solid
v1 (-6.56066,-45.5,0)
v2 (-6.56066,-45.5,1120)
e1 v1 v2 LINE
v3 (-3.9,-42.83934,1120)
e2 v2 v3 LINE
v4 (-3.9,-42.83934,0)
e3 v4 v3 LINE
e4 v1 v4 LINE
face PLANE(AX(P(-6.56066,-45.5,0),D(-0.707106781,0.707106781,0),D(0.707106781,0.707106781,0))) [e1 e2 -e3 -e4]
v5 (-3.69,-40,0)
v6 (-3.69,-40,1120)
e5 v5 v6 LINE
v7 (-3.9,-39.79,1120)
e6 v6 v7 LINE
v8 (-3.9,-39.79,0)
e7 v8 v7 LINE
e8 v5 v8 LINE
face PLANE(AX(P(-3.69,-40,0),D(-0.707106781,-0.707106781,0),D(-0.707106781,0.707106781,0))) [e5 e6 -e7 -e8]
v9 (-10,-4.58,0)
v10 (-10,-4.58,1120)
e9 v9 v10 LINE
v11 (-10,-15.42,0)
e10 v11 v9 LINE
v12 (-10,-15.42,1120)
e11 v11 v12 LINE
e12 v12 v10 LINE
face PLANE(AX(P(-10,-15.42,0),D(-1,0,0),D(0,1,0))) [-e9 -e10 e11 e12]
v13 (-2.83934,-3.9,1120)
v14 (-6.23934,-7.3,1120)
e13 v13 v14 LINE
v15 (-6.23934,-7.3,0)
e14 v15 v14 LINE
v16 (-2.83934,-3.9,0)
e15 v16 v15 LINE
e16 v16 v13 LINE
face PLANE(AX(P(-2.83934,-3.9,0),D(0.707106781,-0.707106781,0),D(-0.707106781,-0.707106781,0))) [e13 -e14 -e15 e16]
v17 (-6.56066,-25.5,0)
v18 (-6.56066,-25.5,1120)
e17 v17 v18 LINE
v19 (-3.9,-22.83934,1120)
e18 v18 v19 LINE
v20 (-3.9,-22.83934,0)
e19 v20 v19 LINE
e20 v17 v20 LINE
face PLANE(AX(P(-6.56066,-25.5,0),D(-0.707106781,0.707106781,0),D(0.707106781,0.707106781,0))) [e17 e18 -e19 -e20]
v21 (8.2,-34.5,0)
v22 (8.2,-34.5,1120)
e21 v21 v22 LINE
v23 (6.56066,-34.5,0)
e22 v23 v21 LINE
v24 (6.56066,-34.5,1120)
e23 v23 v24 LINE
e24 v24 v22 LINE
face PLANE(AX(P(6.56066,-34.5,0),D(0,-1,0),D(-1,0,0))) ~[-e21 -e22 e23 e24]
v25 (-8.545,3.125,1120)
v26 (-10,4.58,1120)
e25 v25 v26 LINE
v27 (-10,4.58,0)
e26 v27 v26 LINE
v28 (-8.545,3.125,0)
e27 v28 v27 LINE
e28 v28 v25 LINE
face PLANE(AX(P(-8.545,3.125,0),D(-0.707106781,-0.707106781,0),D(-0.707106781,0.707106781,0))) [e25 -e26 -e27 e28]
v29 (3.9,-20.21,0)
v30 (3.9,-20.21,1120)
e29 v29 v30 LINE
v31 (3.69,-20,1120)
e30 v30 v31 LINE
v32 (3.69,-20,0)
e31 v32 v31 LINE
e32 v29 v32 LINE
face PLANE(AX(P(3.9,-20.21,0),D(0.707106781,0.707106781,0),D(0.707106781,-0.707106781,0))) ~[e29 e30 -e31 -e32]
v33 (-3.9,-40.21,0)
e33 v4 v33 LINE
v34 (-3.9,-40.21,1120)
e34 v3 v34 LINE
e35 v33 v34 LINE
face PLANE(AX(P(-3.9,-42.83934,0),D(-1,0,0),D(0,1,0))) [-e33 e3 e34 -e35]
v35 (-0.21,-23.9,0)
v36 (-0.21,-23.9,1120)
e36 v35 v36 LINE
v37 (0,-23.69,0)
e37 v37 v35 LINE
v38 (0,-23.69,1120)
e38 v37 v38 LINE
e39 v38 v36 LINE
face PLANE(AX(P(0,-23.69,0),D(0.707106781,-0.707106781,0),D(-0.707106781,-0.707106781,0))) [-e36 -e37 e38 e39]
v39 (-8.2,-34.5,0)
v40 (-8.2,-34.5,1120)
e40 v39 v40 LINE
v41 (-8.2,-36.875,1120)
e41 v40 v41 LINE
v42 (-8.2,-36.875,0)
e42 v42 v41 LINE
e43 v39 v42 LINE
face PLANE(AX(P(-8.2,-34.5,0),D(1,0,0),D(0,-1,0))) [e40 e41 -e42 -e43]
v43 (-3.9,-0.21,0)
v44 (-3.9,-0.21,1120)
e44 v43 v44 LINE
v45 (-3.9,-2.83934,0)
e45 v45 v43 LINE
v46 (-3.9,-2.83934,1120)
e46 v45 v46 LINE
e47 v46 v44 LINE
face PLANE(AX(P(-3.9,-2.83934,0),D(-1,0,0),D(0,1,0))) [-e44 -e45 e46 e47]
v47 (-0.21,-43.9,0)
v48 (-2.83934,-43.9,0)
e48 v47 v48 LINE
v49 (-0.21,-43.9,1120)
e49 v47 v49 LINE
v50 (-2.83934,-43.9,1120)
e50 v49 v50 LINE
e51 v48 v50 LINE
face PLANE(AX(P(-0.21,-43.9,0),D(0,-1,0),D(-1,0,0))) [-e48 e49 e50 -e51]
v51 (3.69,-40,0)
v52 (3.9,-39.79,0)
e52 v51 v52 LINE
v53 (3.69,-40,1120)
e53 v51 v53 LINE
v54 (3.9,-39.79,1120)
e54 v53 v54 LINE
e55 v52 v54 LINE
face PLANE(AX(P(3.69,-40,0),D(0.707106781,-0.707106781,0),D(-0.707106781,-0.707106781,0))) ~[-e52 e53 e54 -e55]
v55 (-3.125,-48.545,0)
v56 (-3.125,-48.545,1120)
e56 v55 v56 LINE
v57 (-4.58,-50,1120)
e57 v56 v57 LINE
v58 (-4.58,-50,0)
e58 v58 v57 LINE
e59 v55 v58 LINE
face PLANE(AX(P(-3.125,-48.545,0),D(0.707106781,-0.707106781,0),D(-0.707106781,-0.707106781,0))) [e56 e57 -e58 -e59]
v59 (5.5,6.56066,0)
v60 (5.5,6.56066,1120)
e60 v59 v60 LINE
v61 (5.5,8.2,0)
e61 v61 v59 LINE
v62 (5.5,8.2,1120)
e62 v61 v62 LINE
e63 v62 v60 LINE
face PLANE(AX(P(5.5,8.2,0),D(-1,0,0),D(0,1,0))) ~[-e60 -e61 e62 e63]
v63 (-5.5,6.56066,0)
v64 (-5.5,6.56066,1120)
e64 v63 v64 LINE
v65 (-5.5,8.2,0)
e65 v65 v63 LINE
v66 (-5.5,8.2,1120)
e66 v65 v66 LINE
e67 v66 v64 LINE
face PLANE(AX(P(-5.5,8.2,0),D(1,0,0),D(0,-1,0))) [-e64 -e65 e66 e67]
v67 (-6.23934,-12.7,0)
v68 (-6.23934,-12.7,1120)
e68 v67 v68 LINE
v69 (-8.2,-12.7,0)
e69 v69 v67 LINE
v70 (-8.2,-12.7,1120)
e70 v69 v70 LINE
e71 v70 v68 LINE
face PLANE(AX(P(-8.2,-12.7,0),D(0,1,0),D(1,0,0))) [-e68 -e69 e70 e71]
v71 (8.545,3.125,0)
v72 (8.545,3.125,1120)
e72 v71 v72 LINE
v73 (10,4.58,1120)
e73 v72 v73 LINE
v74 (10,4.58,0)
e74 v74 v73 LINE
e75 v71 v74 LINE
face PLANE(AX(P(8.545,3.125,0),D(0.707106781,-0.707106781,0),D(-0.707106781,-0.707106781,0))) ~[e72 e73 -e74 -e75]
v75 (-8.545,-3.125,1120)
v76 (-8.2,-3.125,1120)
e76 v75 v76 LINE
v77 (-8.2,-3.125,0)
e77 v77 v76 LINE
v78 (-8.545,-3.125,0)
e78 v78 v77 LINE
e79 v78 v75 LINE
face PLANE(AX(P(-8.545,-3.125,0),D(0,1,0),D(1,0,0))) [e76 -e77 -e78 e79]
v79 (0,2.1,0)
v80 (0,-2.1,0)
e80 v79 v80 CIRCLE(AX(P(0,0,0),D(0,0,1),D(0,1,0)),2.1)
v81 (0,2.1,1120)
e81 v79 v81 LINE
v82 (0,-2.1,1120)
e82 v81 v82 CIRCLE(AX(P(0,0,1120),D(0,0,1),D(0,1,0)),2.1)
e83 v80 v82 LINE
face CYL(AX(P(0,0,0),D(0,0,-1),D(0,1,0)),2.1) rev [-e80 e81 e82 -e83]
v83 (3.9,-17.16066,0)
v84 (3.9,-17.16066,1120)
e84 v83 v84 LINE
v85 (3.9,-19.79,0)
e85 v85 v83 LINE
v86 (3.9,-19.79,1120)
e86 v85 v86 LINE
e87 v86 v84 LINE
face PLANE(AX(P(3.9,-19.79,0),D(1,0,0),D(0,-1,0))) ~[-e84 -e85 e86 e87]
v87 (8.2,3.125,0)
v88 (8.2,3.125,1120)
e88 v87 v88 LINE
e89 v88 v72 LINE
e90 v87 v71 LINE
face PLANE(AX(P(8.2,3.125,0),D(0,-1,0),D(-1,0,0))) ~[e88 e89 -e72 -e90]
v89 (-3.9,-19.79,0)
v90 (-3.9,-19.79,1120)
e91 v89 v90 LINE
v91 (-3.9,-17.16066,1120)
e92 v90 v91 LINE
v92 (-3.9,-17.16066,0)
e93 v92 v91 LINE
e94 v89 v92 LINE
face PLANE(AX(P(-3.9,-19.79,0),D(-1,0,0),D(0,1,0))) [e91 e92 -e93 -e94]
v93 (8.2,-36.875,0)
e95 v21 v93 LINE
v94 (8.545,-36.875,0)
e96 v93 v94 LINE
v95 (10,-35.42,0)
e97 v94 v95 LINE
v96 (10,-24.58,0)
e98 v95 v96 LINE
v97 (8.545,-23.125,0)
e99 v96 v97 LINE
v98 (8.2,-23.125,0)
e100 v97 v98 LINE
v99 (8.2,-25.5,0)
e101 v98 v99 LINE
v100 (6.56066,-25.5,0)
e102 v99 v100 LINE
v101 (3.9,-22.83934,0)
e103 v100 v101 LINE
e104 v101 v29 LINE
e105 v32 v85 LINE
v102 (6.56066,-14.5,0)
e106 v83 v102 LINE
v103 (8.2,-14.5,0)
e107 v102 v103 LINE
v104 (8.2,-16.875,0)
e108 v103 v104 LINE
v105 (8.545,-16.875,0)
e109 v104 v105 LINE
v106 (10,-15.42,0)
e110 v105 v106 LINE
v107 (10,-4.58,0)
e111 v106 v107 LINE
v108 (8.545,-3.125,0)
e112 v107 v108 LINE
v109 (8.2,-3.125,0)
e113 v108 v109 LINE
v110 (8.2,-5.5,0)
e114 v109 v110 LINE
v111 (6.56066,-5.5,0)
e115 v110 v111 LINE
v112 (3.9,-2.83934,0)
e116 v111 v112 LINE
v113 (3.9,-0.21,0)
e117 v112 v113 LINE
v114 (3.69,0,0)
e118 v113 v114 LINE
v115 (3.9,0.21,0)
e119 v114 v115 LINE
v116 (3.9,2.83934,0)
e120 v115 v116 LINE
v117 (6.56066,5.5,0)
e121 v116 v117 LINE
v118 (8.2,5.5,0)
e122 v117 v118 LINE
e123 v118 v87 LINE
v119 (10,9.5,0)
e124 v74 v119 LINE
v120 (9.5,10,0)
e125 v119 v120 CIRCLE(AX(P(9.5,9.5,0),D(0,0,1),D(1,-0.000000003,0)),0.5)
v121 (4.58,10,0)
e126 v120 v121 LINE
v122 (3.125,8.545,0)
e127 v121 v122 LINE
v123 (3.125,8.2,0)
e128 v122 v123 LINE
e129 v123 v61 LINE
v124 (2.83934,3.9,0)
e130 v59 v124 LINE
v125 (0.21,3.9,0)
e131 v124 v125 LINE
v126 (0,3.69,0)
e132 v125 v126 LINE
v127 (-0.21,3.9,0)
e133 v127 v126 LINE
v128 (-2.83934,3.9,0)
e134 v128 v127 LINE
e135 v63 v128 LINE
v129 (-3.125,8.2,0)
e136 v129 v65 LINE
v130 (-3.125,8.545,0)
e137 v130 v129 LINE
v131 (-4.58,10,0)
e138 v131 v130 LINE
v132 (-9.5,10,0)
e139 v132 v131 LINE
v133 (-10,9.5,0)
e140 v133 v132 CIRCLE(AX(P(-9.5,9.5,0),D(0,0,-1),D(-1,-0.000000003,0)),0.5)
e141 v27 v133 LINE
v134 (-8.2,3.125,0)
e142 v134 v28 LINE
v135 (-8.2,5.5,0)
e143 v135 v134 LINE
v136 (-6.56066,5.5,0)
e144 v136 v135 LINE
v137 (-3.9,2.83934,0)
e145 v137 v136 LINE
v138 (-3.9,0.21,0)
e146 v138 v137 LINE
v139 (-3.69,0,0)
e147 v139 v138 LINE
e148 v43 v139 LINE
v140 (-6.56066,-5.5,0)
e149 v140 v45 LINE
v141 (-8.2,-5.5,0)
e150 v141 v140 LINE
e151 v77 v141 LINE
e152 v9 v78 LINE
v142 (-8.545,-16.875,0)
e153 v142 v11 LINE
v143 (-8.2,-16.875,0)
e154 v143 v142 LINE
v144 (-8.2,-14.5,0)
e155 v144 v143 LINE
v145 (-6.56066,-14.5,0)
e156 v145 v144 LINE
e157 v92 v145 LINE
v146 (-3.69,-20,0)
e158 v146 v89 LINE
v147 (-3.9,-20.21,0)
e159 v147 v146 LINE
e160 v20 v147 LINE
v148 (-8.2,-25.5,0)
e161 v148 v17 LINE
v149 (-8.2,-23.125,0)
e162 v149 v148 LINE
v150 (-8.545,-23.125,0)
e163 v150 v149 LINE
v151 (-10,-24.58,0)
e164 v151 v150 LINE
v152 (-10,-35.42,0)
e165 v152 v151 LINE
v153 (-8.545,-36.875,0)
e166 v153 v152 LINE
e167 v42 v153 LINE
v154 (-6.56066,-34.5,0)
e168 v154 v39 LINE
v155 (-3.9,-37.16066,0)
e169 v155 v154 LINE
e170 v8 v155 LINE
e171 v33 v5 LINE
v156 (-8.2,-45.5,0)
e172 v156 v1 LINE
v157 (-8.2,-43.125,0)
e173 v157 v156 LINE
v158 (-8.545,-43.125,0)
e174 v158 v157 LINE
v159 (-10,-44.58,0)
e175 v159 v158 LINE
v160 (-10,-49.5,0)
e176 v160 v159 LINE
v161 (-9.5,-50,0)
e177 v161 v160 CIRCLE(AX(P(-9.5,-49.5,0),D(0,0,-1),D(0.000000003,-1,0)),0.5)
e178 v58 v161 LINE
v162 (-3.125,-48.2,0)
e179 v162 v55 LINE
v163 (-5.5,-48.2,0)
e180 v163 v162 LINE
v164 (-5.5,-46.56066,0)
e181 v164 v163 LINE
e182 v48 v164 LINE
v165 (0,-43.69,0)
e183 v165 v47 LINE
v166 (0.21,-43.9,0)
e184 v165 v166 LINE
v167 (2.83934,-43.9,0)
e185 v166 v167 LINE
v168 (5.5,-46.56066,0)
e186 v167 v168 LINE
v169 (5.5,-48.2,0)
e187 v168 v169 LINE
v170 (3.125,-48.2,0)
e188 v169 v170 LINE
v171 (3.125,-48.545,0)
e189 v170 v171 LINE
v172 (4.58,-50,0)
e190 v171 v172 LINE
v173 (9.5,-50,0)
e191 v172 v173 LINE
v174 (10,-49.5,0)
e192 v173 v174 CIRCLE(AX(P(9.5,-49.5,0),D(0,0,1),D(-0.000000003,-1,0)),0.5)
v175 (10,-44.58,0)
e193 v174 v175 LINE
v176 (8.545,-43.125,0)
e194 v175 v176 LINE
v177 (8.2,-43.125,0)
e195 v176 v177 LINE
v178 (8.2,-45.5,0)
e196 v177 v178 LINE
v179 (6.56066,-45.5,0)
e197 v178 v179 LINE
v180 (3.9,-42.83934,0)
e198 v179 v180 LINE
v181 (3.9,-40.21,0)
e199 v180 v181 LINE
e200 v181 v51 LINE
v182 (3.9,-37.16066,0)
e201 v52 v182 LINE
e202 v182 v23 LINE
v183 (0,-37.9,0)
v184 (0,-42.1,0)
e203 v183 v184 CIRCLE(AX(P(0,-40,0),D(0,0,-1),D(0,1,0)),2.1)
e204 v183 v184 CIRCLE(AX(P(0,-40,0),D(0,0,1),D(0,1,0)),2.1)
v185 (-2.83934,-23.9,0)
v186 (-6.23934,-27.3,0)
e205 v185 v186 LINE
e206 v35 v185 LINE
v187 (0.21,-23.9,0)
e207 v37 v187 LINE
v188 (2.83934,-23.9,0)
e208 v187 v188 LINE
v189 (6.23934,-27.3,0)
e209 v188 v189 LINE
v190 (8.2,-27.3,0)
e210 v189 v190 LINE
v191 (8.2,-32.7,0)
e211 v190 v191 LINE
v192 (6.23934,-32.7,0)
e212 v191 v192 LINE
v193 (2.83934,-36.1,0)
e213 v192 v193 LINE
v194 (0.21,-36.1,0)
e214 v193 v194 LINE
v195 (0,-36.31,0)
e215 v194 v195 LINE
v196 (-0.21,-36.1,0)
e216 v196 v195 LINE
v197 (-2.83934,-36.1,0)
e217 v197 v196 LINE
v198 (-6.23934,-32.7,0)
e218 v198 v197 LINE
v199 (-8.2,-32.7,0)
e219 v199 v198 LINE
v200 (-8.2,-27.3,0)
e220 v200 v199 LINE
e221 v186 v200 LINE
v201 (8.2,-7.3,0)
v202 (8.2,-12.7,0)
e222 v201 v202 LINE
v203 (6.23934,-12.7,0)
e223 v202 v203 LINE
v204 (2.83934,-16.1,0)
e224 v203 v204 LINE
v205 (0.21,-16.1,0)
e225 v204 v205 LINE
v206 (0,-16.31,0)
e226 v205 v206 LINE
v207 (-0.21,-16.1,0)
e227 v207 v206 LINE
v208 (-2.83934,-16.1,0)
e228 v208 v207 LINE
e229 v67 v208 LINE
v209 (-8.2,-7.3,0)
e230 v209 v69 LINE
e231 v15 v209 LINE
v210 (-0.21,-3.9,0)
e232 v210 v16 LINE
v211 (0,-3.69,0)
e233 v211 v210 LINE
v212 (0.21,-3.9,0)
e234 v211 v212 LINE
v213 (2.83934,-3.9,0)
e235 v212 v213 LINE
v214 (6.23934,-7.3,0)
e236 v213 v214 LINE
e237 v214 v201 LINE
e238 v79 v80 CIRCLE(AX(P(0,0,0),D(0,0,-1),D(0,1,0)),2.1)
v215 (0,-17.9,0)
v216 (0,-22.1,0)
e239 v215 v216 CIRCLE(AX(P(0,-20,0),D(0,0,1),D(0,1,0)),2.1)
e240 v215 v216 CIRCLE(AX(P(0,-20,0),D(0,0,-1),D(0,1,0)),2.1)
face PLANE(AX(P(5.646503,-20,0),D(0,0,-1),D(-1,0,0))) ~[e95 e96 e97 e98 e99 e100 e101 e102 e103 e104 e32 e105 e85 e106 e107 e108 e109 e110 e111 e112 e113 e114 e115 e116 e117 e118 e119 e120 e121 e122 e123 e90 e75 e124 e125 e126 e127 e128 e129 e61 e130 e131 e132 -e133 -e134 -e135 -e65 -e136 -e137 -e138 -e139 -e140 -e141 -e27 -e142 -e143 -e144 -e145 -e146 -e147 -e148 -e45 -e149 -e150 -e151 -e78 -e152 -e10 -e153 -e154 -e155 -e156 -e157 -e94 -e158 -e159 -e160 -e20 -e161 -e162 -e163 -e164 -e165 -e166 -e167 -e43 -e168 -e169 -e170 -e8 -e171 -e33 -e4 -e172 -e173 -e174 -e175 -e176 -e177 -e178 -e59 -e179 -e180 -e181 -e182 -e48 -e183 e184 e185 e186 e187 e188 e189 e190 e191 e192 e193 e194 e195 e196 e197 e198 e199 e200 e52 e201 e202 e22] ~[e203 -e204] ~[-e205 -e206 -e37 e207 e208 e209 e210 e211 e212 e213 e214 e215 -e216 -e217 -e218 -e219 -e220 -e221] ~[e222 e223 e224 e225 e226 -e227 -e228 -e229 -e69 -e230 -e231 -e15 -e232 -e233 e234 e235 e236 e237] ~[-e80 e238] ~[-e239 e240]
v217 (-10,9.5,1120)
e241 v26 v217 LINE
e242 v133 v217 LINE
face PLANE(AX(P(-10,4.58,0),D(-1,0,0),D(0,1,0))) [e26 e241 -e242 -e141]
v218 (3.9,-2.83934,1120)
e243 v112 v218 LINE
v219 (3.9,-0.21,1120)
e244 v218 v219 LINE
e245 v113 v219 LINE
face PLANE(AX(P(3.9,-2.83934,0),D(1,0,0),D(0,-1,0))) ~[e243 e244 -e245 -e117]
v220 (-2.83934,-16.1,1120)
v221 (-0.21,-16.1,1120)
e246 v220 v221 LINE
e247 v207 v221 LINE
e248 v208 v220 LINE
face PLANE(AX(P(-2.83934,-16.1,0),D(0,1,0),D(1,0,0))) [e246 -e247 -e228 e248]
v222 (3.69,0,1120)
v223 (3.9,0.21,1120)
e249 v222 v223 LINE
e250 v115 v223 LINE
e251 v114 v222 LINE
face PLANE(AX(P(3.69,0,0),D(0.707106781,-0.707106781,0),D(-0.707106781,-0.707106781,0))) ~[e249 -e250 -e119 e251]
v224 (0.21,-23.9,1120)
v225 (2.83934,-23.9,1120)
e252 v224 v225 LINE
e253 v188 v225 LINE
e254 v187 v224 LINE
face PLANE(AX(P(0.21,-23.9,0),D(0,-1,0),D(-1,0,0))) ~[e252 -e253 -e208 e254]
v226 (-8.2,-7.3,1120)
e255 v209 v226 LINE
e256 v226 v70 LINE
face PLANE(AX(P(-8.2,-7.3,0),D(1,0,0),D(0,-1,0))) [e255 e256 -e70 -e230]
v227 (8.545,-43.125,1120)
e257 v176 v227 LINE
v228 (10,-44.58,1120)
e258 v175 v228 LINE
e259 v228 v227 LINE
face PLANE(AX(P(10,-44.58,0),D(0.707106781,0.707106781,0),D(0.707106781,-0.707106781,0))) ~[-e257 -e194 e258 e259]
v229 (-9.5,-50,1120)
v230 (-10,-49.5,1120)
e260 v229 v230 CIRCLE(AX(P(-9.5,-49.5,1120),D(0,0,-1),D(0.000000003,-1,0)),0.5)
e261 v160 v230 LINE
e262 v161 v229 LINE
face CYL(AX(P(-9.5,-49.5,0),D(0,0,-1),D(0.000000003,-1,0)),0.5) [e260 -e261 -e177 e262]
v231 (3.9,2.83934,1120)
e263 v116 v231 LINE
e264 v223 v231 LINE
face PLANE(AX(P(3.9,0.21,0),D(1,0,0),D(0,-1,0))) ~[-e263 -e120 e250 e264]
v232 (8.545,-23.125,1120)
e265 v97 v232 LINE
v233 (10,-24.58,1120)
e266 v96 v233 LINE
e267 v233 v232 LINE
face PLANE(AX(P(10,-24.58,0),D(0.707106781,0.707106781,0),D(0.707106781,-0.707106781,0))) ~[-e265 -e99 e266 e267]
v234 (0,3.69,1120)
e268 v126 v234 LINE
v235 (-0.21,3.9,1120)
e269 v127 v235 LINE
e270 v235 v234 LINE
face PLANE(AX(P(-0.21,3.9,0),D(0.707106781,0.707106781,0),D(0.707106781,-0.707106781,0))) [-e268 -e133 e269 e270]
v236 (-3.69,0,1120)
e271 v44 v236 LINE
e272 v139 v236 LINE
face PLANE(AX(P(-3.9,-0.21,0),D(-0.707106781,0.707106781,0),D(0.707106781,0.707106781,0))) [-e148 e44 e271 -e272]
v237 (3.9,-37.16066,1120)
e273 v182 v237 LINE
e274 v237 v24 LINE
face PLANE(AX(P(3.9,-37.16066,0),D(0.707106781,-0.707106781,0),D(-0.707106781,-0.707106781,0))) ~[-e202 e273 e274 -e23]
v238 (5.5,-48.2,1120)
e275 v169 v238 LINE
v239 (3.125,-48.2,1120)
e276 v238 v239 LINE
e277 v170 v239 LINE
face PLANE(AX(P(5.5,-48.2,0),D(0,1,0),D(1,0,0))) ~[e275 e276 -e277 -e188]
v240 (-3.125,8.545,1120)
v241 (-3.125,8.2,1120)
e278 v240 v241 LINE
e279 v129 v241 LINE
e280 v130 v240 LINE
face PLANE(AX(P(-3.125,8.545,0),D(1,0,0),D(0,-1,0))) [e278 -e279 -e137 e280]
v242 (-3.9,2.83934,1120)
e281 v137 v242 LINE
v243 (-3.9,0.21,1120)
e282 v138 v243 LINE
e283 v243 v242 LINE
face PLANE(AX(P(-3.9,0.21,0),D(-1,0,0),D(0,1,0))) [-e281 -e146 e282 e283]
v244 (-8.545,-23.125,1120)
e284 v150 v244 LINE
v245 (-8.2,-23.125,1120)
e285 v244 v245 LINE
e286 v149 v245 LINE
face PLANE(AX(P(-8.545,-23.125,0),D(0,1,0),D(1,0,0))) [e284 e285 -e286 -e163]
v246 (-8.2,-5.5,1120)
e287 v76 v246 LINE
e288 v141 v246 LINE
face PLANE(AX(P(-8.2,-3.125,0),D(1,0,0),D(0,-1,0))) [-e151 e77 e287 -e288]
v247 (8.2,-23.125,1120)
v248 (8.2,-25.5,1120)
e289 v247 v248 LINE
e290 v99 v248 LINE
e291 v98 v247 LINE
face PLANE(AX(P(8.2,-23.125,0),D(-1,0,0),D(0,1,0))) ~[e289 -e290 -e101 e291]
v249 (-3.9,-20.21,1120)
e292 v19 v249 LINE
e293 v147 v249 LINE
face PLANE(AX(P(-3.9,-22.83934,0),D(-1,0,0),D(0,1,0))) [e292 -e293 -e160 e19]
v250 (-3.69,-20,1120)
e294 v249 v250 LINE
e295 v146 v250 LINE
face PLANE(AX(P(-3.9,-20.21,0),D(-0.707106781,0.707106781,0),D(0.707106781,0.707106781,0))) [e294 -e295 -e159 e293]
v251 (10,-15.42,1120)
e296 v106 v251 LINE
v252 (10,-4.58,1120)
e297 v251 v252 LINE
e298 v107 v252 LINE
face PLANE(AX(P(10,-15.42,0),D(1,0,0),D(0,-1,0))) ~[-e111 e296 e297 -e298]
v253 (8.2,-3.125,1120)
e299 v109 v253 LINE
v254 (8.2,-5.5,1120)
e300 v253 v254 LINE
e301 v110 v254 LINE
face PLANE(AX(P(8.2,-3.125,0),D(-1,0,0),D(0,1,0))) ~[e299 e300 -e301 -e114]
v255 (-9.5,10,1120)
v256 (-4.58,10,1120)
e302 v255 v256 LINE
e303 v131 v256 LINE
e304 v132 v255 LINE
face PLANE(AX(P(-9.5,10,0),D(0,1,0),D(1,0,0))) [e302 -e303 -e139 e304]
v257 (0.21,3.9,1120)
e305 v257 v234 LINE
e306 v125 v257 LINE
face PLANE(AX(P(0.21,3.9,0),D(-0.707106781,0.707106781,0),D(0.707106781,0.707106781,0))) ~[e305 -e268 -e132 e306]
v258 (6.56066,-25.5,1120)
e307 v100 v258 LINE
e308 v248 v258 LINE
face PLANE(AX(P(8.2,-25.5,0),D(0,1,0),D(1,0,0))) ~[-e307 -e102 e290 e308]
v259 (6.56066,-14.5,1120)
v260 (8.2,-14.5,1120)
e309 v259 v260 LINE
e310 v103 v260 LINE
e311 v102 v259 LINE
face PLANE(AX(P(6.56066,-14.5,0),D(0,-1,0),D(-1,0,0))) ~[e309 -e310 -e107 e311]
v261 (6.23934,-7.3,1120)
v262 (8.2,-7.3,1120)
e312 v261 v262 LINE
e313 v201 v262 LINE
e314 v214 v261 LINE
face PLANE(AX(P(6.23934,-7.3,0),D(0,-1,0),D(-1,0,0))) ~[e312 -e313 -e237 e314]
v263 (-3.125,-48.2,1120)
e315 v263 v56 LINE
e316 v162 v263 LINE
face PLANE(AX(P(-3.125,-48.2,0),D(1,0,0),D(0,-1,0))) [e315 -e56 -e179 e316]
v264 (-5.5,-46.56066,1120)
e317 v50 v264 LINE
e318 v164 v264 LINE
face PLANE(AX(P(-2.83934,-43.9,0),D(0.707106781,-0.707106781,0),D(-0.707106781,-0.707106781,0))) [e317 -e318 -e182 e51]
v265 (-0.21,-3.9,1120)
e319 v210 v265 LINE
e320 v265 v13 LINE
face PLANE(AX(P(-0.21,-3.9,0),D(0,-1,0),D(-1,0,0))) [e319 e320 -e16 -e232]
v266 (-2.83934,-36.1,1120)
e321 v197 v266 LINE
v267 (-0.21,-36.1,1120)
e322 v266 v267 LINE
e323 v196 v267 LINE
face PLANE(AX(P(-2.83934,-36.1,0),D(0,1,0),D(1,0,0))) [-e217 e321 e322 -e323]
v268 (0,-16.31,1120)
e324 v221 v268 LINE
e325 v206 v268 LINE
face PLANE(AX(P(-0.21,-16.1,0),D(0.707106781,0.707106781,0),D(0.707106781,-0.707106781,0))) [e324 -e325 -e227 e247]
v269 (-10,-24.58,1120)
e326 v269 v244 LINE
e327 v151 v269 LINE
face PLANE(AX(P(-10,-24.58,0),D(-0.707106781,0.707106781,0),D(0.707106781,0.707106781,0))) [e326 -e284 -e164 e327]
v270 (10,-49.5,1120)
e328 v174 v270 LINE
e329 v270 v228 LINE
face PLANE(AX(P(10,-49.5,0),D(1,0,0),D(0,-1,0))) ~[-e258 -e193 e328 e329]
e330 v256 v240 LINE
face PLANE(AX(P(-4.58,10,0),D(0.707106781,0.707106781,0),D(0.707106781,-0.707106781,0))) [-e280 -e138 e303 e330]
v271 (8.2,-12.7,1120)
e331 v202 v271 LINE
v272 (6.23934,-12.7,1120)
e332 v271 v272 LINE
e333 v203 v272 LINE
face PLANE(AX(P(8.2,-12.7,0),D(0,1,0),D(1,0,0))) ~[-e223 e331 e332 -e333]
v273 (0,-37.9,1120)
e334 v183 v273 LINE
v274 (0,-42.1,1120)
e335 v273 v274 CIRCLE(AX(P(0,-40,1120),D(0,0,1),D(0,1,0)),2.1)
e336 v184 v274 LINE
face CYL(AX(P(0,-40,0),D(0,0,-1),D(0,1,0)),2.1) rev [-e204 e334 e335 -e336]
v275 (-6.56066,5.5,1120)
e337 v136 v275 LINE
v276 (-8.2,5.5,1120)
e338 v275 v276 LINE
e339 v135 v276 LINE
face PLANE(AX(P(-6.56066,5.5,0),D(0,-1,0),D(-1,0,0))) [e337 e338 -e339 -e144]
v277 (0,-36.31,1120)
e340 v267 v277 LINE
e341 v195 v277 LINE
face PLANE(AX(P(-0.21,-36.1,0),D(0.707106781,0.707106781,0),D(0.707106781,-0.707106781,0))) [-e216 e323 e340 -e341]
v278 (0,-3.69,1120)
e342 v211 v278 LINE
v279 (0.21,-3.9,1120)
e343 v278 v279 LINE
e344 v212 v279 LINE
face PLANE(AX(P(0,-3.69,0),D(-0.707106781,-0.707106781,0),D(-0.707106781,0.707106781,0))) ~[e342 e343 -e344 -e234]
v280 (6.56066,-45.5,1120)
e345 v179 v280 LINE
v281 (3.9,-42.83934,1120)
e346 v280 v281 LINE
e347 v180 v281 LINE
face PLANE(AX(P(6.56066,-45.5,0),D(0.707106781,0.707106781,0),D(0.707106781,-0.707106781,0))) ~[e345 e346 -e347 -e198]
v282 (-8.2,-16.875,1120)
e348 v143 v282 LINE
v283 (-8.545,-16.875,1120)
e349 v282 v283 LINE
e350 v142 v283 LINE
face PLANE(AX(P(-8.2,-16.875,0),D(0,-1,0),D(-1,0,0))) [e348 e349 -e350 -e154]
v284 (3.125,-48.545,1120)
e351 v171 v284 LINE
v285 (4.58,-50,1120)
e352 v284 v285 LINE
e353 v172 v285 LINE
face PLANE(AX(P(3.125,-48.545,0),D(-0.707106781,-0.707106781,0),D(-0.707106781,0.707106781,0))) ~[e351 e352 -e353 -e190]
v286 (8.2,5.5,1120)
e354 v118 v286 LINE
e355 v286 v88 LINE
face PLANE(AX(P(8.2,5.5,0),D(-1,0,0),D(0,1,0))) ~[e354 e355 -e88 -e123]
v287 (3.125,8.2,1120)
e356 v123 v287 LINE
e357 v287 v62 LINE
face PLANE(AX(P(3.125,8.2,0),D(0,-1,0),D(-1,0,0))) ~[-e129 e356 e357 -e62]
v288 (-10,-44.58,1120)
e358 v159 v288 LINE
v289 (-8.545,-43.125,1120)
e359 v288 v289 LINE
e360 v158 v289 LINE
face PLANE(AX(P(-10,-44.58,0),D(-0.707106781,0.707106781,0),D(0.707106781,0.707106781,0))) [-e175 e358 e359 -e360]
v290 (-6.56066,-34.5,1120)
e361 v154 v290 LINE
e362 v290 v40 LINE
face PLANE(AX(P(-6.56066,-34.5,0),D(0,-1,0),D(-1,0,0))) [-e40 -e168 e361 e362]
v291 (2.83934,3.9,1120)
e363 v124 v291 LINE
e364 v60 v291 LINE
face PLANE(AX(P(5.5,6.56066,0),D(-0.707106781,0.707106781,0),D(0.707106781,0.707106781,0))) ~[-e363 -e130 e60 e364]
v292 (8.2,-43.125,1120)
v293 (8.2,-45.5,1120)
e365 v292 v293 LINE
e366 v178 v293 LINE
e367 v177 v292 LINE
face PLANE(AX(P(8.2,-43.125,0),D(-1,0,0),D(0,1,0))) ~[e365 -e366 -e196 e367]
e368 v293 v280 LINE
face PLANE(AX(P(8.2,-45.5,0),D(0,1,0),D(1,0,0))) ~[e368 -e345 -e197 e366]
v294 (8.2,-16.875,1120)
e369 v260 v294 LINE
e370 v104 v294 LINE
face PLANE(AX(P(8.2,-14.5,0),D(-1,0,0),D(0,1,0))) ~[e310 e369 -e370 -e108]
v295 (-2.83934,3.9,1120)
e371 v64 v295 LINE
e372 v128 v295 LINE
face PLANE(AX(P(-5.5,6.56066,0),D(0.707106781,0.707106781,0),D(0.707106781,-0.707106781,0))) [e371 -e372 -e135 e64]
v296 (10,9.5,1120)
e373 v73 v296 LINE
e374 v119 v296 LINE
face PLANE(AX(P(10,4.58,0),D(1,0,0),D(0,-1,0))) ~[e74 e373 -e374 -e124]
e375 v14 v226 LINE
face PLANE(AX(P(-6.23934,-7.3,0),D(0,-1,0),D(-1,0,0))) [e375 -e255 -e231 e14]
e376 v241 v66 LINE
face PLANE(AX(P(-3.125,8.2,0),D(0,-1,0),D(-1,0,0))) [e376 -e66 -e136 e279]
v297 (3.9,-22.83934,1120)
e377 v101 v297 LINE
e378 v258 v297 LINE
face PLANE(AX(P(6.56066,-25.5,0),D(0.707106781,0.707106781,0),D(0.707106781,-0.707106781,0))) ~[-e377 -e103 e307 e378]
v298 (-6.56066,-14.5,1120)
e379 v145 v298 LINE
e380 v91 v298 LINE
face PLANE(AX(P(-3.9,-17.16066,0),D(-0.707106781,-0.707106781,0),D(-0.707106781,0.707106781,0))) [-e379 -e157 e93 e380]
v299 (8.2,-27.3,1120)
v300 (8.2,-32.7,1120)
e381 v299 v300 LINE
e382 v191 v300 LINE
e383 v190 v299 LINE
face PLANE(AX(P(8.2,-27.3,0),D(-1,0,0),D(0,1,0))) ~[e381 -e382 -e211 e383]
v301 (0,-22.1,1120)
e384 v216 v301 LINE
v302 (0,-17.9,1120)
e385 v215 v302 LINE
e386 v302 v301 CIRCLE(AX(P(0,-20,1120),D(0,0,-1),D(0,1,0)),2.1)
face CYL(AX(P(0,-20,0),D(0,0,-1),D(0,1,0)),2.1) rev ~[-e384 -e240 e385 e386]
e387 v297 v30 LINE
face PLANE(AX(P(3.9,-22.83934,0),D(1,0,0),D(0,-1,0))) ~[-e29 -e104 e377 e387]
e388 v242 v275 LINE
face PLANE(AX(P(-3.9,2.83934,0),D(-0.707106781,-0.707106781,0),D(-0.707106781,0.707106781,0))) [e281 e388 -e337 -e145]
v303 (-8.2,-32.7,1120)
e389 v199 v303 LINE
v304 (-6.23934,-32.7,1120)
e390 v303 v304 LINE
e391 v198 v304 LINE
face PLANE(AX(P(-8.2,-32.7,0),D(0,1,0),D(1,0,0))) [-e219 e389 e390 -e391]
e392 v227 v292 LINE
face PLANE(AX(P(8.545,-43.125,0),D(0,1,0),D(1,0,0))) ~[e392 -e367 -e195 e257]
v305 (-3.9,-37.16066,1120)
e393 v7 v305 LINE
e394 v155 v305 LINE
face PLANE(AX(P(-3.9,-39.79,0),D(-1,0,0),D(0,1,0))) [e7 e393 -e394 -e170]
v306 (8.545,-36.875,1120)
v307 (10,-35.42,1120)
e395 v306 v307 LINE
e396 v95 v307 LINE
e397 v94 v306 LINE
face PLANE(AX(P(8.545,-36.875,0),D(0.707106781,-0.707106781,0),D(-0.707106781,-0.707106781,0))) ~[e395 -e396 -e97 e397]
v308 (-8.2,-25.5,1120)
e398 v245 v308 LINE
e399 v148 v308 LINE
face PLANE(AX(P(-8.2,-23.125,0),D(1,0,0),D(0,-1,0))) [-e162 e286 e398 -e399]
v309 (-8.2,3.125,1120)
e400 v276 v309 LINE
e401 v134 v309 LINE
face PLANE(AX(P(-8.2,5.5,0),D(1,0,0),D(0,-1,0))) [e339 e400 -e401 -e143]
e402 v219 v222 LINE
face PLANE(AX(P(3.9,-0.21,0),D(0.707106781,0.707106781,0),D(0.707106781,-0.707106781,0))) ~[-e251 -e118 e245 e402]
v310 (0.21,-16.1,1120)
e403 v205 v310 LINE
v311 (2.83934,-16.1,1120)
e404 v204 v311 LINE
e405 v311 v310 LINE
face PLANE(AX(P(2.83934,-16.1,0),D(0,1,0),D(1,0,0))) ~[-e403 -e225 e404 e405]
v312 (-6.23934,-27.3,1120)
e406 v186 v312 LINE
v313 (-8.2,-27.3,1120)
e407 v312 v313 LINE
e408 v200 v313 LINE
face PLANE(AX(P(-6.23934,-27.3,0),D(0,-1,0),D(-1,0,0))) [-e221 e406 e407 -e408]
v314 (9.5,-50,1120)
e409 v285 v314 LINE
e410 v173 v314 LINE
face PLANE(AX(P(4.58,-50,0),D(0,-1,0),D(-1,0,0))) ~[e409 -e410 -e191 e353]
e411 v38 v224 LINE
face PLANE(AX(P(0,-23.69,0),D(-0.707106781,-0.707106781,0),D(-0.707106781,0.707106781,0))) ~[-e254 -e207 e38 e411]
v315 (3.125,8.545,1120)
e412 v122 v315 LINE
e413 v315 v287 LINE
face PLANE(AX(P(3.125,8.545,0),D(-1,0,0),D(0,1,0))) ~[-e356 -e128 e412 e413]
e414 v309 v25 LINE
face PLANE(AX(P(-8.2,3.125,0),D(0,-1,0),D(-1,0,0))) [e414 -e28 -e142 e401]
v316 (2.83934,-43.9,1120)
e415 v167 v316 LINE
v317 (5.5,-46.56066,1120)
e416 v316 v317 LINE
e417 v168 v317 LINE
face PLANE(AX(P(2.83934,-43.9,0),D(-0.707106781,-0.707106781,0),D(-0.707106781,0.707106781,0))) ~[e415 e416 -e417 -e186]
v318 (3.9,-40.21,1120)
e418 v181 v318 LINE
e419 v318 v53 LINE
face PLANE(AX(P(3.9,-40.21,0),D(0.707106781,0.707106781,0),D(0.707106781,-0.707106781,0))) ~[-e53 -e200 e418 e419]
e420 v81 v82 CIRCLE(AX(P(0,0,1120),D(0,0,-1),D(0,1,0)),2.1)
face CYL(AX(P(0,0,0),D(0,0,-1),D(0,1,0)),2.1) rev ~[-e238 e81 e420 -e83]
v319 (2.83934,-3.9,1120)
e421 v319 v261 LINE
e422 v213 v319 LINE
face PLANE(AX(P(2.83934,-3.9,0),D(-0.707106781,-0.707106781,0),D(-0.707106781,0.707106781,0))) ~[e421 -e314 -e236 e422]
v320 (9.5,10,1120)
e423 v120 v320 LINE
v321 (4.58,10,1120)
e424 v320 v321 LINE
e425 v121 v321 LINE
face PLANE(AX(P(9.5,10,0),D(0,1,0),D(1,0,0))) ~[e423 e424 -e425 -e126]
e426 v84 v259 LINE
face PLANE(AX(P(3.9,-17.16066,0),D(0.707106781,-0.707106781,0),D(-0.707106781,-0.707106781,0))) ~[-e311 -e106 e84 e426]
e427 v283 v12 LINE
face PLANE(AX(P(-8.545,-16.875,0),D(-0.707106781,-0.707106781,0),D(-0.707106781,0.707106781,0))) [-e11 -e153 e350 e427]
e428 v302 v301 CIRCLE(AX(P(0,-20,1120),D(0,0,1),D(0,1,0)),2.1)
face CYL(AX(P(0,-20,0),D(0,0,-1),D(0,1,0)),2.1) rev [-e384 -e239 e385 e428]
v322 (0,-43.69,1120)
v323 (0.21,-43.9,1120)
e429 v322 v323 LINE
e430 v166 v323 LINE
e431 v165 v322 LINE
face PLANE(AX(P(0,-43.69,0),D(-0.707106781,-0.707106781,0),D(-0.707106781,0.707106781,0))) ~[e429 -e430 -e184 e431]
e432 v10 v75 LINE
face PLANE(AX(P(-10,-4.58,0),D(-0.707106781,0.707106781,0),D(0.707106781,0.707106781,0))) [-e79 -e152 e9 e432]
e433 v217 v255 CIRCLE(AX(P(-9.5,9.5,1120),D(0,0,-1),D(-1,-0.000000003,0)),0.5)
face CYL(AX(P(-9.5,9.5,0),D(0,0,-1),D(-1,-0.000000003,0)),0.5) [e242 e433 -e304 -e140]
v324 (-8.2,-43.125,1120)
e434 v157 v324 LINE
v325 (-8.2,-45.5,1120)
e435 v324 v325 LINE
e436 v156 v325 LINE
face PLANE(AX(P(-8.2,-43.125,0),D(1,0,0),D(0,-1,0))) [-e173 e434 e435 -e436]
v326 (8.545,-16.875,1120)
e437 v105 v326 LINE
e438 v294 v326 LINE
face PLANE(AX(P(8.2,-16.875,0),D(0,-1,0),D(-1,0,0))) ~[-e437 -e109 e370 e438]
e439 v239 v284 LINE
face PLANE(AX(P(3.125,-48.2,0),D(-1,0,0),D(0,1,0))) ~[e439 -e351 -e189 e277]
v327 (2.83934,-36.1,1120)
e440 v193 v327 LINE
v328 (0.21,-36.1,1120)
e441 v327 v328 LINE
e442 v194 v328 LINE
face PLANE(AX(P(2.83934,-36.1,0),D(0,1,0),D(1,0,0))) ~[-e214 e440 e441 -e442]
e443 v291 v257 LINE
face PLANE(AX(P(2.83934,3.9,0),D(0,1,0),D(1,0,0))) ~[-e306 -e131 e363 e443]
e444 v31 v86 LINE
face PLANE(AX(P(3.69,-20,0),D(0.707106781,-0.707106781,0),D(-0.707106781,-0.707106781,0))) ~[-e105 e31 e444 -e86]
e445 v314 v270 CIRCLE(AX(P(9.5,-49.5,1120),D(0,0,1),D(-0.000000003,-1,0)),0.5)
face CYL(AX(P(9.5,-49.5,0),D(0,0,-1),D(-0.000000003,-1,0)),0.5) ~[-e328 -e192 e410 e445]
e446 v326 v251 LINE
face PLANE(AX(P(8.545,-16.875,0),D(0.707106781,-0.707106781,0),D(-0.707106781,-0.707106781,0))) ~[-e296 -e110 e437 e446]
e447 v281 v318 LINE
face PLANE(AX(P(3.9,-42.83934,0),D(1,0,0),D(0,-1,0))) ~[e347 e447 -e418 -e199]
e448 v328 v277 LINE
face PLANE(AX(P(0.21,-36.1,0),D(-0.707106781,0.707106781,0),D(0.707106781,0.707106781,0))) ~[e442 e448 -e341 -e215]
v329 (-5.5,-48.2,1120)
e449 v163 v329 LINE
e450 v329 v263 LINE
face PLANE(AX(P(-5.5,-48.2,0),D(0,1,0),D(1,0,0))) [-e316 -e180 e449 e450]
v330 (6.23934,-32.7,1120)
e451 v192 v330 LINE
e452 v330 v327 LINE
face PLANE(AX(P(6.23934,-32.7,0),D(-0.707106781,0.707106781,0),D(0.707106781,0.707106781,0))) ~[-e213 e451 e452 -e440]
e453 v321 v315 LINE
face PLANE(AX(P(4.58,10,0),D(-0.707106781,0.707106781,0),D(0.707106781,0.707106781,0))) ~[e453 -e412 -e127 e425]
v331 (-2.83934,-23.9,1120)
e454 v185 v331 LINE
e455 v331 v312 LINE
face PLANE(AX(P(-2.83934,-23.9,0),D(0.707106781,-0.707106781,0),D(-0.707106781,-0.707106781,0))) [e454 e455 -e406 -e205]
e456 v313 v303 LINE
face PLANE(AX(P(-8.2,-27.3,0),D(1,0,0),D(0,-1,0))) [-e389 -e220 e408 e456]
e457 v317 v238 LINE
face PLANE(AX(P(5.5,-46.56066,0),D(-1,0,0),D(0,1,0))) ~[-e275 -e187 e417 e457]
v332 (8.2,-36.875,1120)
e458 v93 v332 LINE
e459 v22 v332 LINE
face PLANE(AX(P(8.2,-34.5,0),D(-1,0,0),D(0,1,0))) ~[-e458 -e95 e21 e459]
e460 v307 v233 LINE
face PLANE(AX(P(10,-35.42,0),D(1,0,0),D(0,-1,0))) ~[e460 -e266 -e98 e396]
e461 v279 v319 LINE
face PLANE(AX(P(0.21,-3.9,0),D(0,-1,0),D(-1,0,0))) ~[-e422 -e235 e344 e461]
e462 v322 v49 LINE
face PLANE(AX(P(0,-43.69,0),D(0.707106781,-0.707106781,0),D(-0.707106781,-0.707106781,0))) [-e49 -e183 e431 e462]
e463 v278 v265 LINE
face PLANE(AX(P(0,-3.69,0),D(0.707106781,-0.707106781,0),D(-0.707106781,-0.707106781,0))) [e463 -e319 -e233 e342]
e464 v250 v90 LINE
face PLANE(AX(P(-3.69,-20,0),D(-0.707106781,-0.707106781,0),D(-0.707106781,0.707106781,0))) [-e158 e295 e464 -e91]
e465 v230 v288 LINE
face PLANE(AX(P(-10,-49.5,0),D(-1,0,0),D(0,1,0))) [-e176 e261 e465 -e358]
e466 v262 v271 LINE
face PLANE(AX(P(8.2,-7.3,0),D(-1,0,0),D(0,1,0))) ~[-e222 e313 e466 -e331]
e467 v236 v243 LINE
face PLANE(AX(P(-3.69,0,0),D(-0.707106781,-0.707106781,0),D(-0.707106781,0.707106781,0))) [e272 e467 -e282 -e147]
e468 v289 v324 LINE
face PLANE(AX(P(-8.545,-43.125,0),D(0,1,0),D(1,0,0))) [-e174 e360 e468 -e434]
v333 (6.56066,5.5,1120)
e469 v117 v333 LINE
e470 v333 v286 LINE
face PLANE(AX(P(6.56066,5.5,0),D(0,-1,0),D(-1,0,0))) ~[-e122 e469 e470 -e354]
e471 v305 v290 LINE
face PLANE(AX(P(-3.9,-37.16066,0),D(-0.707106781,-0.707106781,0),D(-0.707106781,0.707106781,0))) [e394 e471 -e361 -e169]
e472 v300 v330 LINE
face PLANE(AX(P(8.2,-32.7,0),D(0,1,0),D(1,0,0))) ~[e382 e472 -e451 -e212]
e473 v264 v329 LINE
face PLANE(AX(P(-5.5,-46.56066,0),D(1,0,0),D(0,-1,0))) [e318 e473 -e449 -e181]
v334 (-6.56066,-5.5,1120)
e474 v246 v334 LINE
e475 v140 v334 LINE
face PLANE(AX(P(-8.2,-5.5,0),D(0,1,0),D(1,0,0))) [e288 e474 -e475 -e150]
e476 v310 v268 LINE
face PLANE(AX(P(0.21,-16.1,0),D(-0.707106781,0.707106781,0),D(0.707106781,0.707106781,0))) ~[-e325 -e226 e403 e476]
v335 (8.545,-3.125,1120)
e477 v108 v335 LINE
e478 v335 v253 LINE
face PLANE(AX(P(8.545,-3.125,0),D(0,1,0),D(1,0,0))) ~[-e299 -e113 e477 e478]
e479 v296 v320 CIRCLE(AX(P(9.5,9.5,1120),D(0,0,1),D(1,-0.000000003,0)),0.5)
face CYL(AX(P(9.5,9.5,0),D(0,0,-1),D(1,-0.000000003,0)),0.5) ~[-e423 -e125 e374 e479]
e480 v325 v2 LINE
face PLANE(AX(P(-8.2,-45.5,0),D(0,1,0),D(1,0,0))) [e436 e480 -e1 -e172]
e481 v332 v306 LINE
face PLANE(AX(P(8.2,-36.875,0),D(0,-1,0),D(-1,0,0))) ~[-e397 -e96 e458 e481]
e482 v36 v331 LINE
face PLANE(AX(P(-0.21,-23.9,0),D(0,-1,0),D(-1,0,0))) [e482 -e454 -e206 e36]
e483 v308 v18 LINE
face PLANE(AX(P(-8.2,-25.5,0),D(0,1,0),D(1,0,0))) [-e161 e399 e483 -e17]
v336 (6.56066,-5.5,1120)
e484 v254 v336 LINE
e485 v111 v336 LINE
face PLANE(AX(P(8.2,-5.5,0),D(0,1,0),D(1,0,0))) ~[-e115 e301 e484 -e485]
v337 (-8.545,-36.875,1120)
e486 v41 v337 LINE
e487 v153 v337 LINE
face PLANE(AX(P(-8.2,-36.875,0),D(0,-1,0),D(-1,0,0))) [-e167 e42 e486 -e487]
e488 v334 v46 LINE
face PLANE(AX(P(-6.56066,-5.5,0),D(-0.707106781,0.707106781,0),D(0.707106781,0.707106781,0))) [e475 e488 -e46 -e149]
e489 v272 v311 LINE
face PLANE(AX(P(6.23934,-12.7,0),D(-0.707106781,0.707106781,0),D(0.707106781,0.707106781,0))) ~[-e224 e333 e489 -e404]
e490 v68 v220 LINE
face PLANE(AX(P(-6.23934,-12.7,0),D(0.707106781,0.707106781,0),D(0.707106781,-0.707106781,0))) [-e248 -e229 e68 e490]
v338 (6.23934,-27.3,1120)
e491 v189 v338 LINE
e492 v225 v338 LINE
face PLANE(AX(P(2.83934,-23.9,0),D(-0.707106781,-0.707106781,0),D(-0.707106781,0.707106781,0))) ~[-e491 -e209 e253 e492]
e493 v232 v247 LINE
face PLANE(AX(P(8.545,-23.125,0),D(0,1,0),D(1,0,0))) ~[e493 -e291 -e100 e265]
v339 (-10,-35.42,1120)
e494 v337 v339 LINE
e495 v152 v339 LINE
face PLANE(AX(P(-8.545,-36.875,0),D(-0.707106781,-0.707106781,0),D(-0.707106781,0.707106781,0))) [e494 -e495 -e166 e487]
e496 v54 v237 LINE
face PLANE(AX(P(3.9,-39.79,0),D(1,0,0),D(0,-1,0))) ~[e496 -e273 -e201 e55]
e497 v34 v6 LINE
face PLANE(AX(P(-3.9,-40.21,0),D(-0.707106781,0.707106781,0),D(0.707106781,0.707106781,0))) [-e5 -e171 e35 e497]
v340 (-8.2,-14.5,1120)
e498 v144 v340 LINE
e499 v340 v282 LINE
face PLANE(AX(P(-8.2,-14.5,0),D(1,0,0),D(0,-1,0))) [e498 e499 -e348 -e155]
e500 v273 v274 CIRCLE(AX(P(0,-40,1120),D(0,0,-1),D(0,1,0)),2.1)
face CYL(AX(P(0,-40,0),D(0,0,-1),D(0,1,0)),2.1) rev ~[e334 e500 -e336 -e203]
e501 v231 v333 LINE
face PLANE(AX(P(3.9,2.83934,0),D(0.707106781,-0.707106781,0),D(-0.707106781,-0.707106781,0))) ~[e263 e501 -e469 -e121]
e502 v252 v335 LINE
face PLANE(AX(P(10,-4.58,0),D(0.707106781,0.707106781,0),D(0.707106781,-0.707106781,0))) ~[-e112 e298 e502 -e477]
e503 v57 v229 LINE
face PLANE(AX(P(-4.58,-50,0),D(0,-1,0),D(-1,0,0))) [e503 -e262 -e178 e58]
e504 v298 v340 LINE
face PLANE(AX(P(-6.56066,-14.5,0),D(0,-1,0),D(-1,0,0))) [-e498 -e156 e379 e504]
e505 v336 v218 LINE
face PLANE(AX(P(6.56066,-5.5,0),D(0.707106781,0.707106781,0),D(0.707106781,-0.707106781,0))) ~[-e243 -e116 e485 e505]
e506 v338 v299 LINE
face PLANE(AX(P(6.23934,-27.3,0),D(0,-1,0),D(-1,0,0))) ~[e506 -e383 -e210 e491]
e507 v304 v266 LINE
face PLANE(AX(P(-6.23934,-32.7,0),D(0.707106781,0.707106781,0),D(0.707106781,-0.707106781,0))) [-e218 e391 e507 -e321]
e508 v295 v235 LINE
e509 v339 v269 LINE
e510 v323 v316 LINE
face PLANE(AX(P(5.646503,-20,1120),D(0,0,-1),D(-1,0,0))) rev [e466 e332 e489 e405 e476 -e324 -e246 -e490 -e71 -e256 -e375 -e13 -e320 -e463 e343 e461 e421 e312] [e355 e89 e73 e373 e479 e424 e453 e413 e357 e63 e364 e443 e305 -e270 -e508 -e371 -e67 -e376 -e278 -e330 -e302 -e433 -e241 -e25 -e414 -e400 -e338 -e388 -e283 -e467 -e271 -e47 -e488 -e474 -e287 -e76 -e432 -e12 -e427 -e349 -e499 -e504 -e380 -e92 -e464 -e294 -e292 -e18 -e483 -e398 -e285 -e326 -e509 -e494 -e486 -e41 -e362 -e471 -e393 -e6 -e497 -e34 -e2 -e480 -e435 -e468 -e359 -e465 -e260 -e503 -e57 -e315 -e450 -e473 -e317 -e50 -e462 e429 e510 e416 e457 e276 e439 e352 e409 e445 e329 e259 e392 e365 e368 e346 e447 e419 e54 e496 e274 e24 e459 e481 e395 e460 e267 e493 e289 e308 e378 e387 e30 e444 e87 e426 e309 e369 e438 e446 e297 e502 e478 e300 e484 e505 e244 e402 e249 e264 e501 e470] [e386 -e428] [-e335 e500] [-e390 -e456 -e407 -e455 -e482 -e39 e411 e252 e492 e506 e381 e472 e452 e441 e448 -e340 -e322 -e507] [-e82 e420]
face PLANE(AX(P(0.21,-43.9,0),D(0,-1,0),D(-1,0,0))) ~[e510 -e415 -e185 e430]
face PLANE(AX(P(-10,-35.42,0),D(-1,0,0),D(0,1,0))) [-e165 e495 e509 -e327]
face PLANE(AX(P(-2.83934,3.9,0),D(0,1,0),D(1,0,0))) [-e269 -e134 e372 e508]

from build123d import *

# Parameters (mm, degrees)
BOSS_EXTRU_1_DEPTH = 1120


with BuildPart() as part:
    # Esquisse1 → Boss.-Extru.1 (new body)
    with BuildSketch(Plane.XY):
        with BuildLine():
            Line((-9.5, 10), (-4.58, 10))
            Line((-4.58, 10), (-3.125, 8.545))
            Line((-3.125, 8.545), (-3.125, 8.2))
            Line((-3.125, 8.2), (-5.5, 8.2))
            Line((-5.5, 8.2), (-5.5, 6.560660172))
            Line((-5.5, 6.560660172), (-2.839339828, 3.9))
            Line((-2.839339828, 3.9), (-0.21, 3.9))
            Line((-0.21, 3.9), (0, 3.69))
            Line((0, 3.69), (0, 2.1))
            ThreePointArc((0, 2.1), (-2.1, 0), (0, -2.1))
            Line((0, -2.1), (0, -3.69))
            Line((0, -3.69), (-0.21, -3.9))
            Line((-0.21, -3.9), (-2.839339828, -3.9))
            Line((-2.839339828, -3.9), (-6.239339828, -7.3))
            Line((-6.239339828, -7.3), (-8.2, -7.3))
            Line((-8.2, -7.3), (-8.2, -12.7))
            Line((-8.2, -12.7), (-6.239339828, -12.7))
            Line((-6.239339828, -12.7), (-2.839339828, -16.1))
            Line((-2.839339828, -16.1), (-0.21, -16.1))
            Line((-0.21, -16.1), (0, -16.31))
            Line((0, -16.31), (0, -17.9))
            ThreePointArc((0, -17.9), (-2.1, -20), (0, -22.1))
            Line((0, -22.1), (0, -23.69))
            Line((0, -23.69), (-0.21, -23.9))
            Line((-0.21, -23.9), (-2.839339828, -23.9))
            Line((-2.839339828, -23.9), (-6.239339828, -27.3))
            Line((-6.239339828, -27.3), (-8.2, -27.3))
            Line((-8.2, -27.3), (-8.2, -32.7))
            Line((-8.2, -32.7), (-6.239339828, -32.7))
            Line((-6.239339828, -32.7), (-2.839339828, -36.1))
            Line((-2.839339828, -36.1), (-0.21, -36.1))
            Line((-0.21, -36.1), (0, -36.31))
            Line((0, -36.31), (0, -37.9))
            ThreePointArc((0, -37.9), (-2.1, -40), (0, -42.1))
            Line((0, -42.1), (0, -43.69))
            Line((0, -43.69), (-0.21, -43.9))
            Line((-0.21, -43.9), (-2.839339828, -43.9))
            Line((-2.839339828, -43.9), (-5.5, -46.560660172))
            Line((-5.5, -46.560660172), (-5.5, -48.2))
            Line((-5.5, -48.2), (-3.125, -48.2))
            Line((-3.125, -48.2), (-3.125, -48.545))
            Line((-3.125, -48.545), (-4.58, -50))
            Line((-4.58, -50), (-9.5, -50))
            ThreePointArc((-9.5, -50), (-9.853553391, -49.853553391), (-10, -49.5))
            Line((-10, -49.5), (-10, -44.58))
            Line((-10, -44.58), (-8.545, -43.125))
            Line((-8.545, -43.125), (-8.2, -43.125))
            Line((-8.2, -43.125), (-8.2, -45.5))
            Line((-8.2, -45.5), (-6.560660172, -45.5))
            Line((-6.560660172, -45.5), (-3.9, -42.839339828))
            Line((-3.9, -42.839339828), (-3.9, -40.21))
            Line((-3.9, -40.21), (-3.69, -40))
            Line((-3.69, -40), (-3.9, -39.79))
            Line((-3.9, -39.79), (-3.9, -37.160660172))
            Line((-3.9, -37.160660172), (-6.560660172, -34.5))
            Line((-6.560660172, -34.5), (-8.2, -34.5))
            Line((-8.2, -34.5), (-8.2, -36.875))
            Line((-8.2, -36.875), (-8.545, -36.875))
            Line((-8.545, -36.875), (-10, -35.42))
            Line((-10, -35.42), (-10, -24.58))
            Line((-10, -24.58), (-8.545, -23.125))
            Line((-8.545, -23.125), (-8.2, -23.125))
            Line((-8.2, -23.125), (-8.2, -25.5))
            Line((-8.2, -25.5), (-6.560660172, -25.5))
            Line((-6.560660172, -25.5), (-3.9, -22.839339828))
            Line((-3.9, -22.839339828), (-3.9, -20.21))
            Line((-3.9, -20.21), (-3.69, -20))
            Line((-3.69, -20), (-3.9, -19.79))
            Line((-3.9, -19.79), (-3.9, -17.160660172))
            Line((-3.9, -17.160660172), (-6.560660172, -14.5))
            Line((-6.560660172, -14.5), (-8.2, -14.5))
            Line((-8.2, -14.5), (-8.2, -16.875))
            Line((-8.2, -16.875), (-8.545, -16.875))
            Line((-8.545, -16.875), (-10, -15.42))
            Line((-10, -15.42), (-10, -4.58))
            Line((-10, -4.58), (-8.545, -3.125))
            Line((-8.545, -3.125), (-8.2, -3.125))
            Line((-8.2, -3.125), (-8.2, -5.5))
            Line((-8.2, -5.5), (-6.560660172, -5.5))
            Line((-6.560660172, -5.5), (-3.9, -2.839339828))
            Line((-3.9, -2.839339828), (-3.9, -0.21))
            Line((-3.9, -0.21), (-3.69, 0))
            Line((-3.69, 0), (-3.9, 0.21))
            Line((-3.9, 0.21), (-3.9, 2.839339828))
            Line((-3.9, 2.839339828), (-6.560660172, 5.5))
            Line((-6.560660172, 5.5), (-8.2, 5.5))
            Line((-8.2, 5.5), (-8.2, 3.125))
            Line((-8.2, 3.125), (-8.545, 3.125))
            Line((-8.545, 3.125), (-10, 4.58))
            Line((-10, 4.58), (-10, 9.5))
            ThreePointArc((-10, 9.5), (-9.853553391, 9.853553391), (-9.5, 10))
        make_face()
    boss_extru_1 = extrude(amount=BOSS_EXTRU_1_DEPTH)

    # Symétrie1: Boss.-Extru.1 across plane
    add(boss_extru_1.mirror(Plane(origin=(0, 3.69, 1120), x_dir=(0, 0, 1), z_dir=(-1, 0, 0))))


solid = part.part
